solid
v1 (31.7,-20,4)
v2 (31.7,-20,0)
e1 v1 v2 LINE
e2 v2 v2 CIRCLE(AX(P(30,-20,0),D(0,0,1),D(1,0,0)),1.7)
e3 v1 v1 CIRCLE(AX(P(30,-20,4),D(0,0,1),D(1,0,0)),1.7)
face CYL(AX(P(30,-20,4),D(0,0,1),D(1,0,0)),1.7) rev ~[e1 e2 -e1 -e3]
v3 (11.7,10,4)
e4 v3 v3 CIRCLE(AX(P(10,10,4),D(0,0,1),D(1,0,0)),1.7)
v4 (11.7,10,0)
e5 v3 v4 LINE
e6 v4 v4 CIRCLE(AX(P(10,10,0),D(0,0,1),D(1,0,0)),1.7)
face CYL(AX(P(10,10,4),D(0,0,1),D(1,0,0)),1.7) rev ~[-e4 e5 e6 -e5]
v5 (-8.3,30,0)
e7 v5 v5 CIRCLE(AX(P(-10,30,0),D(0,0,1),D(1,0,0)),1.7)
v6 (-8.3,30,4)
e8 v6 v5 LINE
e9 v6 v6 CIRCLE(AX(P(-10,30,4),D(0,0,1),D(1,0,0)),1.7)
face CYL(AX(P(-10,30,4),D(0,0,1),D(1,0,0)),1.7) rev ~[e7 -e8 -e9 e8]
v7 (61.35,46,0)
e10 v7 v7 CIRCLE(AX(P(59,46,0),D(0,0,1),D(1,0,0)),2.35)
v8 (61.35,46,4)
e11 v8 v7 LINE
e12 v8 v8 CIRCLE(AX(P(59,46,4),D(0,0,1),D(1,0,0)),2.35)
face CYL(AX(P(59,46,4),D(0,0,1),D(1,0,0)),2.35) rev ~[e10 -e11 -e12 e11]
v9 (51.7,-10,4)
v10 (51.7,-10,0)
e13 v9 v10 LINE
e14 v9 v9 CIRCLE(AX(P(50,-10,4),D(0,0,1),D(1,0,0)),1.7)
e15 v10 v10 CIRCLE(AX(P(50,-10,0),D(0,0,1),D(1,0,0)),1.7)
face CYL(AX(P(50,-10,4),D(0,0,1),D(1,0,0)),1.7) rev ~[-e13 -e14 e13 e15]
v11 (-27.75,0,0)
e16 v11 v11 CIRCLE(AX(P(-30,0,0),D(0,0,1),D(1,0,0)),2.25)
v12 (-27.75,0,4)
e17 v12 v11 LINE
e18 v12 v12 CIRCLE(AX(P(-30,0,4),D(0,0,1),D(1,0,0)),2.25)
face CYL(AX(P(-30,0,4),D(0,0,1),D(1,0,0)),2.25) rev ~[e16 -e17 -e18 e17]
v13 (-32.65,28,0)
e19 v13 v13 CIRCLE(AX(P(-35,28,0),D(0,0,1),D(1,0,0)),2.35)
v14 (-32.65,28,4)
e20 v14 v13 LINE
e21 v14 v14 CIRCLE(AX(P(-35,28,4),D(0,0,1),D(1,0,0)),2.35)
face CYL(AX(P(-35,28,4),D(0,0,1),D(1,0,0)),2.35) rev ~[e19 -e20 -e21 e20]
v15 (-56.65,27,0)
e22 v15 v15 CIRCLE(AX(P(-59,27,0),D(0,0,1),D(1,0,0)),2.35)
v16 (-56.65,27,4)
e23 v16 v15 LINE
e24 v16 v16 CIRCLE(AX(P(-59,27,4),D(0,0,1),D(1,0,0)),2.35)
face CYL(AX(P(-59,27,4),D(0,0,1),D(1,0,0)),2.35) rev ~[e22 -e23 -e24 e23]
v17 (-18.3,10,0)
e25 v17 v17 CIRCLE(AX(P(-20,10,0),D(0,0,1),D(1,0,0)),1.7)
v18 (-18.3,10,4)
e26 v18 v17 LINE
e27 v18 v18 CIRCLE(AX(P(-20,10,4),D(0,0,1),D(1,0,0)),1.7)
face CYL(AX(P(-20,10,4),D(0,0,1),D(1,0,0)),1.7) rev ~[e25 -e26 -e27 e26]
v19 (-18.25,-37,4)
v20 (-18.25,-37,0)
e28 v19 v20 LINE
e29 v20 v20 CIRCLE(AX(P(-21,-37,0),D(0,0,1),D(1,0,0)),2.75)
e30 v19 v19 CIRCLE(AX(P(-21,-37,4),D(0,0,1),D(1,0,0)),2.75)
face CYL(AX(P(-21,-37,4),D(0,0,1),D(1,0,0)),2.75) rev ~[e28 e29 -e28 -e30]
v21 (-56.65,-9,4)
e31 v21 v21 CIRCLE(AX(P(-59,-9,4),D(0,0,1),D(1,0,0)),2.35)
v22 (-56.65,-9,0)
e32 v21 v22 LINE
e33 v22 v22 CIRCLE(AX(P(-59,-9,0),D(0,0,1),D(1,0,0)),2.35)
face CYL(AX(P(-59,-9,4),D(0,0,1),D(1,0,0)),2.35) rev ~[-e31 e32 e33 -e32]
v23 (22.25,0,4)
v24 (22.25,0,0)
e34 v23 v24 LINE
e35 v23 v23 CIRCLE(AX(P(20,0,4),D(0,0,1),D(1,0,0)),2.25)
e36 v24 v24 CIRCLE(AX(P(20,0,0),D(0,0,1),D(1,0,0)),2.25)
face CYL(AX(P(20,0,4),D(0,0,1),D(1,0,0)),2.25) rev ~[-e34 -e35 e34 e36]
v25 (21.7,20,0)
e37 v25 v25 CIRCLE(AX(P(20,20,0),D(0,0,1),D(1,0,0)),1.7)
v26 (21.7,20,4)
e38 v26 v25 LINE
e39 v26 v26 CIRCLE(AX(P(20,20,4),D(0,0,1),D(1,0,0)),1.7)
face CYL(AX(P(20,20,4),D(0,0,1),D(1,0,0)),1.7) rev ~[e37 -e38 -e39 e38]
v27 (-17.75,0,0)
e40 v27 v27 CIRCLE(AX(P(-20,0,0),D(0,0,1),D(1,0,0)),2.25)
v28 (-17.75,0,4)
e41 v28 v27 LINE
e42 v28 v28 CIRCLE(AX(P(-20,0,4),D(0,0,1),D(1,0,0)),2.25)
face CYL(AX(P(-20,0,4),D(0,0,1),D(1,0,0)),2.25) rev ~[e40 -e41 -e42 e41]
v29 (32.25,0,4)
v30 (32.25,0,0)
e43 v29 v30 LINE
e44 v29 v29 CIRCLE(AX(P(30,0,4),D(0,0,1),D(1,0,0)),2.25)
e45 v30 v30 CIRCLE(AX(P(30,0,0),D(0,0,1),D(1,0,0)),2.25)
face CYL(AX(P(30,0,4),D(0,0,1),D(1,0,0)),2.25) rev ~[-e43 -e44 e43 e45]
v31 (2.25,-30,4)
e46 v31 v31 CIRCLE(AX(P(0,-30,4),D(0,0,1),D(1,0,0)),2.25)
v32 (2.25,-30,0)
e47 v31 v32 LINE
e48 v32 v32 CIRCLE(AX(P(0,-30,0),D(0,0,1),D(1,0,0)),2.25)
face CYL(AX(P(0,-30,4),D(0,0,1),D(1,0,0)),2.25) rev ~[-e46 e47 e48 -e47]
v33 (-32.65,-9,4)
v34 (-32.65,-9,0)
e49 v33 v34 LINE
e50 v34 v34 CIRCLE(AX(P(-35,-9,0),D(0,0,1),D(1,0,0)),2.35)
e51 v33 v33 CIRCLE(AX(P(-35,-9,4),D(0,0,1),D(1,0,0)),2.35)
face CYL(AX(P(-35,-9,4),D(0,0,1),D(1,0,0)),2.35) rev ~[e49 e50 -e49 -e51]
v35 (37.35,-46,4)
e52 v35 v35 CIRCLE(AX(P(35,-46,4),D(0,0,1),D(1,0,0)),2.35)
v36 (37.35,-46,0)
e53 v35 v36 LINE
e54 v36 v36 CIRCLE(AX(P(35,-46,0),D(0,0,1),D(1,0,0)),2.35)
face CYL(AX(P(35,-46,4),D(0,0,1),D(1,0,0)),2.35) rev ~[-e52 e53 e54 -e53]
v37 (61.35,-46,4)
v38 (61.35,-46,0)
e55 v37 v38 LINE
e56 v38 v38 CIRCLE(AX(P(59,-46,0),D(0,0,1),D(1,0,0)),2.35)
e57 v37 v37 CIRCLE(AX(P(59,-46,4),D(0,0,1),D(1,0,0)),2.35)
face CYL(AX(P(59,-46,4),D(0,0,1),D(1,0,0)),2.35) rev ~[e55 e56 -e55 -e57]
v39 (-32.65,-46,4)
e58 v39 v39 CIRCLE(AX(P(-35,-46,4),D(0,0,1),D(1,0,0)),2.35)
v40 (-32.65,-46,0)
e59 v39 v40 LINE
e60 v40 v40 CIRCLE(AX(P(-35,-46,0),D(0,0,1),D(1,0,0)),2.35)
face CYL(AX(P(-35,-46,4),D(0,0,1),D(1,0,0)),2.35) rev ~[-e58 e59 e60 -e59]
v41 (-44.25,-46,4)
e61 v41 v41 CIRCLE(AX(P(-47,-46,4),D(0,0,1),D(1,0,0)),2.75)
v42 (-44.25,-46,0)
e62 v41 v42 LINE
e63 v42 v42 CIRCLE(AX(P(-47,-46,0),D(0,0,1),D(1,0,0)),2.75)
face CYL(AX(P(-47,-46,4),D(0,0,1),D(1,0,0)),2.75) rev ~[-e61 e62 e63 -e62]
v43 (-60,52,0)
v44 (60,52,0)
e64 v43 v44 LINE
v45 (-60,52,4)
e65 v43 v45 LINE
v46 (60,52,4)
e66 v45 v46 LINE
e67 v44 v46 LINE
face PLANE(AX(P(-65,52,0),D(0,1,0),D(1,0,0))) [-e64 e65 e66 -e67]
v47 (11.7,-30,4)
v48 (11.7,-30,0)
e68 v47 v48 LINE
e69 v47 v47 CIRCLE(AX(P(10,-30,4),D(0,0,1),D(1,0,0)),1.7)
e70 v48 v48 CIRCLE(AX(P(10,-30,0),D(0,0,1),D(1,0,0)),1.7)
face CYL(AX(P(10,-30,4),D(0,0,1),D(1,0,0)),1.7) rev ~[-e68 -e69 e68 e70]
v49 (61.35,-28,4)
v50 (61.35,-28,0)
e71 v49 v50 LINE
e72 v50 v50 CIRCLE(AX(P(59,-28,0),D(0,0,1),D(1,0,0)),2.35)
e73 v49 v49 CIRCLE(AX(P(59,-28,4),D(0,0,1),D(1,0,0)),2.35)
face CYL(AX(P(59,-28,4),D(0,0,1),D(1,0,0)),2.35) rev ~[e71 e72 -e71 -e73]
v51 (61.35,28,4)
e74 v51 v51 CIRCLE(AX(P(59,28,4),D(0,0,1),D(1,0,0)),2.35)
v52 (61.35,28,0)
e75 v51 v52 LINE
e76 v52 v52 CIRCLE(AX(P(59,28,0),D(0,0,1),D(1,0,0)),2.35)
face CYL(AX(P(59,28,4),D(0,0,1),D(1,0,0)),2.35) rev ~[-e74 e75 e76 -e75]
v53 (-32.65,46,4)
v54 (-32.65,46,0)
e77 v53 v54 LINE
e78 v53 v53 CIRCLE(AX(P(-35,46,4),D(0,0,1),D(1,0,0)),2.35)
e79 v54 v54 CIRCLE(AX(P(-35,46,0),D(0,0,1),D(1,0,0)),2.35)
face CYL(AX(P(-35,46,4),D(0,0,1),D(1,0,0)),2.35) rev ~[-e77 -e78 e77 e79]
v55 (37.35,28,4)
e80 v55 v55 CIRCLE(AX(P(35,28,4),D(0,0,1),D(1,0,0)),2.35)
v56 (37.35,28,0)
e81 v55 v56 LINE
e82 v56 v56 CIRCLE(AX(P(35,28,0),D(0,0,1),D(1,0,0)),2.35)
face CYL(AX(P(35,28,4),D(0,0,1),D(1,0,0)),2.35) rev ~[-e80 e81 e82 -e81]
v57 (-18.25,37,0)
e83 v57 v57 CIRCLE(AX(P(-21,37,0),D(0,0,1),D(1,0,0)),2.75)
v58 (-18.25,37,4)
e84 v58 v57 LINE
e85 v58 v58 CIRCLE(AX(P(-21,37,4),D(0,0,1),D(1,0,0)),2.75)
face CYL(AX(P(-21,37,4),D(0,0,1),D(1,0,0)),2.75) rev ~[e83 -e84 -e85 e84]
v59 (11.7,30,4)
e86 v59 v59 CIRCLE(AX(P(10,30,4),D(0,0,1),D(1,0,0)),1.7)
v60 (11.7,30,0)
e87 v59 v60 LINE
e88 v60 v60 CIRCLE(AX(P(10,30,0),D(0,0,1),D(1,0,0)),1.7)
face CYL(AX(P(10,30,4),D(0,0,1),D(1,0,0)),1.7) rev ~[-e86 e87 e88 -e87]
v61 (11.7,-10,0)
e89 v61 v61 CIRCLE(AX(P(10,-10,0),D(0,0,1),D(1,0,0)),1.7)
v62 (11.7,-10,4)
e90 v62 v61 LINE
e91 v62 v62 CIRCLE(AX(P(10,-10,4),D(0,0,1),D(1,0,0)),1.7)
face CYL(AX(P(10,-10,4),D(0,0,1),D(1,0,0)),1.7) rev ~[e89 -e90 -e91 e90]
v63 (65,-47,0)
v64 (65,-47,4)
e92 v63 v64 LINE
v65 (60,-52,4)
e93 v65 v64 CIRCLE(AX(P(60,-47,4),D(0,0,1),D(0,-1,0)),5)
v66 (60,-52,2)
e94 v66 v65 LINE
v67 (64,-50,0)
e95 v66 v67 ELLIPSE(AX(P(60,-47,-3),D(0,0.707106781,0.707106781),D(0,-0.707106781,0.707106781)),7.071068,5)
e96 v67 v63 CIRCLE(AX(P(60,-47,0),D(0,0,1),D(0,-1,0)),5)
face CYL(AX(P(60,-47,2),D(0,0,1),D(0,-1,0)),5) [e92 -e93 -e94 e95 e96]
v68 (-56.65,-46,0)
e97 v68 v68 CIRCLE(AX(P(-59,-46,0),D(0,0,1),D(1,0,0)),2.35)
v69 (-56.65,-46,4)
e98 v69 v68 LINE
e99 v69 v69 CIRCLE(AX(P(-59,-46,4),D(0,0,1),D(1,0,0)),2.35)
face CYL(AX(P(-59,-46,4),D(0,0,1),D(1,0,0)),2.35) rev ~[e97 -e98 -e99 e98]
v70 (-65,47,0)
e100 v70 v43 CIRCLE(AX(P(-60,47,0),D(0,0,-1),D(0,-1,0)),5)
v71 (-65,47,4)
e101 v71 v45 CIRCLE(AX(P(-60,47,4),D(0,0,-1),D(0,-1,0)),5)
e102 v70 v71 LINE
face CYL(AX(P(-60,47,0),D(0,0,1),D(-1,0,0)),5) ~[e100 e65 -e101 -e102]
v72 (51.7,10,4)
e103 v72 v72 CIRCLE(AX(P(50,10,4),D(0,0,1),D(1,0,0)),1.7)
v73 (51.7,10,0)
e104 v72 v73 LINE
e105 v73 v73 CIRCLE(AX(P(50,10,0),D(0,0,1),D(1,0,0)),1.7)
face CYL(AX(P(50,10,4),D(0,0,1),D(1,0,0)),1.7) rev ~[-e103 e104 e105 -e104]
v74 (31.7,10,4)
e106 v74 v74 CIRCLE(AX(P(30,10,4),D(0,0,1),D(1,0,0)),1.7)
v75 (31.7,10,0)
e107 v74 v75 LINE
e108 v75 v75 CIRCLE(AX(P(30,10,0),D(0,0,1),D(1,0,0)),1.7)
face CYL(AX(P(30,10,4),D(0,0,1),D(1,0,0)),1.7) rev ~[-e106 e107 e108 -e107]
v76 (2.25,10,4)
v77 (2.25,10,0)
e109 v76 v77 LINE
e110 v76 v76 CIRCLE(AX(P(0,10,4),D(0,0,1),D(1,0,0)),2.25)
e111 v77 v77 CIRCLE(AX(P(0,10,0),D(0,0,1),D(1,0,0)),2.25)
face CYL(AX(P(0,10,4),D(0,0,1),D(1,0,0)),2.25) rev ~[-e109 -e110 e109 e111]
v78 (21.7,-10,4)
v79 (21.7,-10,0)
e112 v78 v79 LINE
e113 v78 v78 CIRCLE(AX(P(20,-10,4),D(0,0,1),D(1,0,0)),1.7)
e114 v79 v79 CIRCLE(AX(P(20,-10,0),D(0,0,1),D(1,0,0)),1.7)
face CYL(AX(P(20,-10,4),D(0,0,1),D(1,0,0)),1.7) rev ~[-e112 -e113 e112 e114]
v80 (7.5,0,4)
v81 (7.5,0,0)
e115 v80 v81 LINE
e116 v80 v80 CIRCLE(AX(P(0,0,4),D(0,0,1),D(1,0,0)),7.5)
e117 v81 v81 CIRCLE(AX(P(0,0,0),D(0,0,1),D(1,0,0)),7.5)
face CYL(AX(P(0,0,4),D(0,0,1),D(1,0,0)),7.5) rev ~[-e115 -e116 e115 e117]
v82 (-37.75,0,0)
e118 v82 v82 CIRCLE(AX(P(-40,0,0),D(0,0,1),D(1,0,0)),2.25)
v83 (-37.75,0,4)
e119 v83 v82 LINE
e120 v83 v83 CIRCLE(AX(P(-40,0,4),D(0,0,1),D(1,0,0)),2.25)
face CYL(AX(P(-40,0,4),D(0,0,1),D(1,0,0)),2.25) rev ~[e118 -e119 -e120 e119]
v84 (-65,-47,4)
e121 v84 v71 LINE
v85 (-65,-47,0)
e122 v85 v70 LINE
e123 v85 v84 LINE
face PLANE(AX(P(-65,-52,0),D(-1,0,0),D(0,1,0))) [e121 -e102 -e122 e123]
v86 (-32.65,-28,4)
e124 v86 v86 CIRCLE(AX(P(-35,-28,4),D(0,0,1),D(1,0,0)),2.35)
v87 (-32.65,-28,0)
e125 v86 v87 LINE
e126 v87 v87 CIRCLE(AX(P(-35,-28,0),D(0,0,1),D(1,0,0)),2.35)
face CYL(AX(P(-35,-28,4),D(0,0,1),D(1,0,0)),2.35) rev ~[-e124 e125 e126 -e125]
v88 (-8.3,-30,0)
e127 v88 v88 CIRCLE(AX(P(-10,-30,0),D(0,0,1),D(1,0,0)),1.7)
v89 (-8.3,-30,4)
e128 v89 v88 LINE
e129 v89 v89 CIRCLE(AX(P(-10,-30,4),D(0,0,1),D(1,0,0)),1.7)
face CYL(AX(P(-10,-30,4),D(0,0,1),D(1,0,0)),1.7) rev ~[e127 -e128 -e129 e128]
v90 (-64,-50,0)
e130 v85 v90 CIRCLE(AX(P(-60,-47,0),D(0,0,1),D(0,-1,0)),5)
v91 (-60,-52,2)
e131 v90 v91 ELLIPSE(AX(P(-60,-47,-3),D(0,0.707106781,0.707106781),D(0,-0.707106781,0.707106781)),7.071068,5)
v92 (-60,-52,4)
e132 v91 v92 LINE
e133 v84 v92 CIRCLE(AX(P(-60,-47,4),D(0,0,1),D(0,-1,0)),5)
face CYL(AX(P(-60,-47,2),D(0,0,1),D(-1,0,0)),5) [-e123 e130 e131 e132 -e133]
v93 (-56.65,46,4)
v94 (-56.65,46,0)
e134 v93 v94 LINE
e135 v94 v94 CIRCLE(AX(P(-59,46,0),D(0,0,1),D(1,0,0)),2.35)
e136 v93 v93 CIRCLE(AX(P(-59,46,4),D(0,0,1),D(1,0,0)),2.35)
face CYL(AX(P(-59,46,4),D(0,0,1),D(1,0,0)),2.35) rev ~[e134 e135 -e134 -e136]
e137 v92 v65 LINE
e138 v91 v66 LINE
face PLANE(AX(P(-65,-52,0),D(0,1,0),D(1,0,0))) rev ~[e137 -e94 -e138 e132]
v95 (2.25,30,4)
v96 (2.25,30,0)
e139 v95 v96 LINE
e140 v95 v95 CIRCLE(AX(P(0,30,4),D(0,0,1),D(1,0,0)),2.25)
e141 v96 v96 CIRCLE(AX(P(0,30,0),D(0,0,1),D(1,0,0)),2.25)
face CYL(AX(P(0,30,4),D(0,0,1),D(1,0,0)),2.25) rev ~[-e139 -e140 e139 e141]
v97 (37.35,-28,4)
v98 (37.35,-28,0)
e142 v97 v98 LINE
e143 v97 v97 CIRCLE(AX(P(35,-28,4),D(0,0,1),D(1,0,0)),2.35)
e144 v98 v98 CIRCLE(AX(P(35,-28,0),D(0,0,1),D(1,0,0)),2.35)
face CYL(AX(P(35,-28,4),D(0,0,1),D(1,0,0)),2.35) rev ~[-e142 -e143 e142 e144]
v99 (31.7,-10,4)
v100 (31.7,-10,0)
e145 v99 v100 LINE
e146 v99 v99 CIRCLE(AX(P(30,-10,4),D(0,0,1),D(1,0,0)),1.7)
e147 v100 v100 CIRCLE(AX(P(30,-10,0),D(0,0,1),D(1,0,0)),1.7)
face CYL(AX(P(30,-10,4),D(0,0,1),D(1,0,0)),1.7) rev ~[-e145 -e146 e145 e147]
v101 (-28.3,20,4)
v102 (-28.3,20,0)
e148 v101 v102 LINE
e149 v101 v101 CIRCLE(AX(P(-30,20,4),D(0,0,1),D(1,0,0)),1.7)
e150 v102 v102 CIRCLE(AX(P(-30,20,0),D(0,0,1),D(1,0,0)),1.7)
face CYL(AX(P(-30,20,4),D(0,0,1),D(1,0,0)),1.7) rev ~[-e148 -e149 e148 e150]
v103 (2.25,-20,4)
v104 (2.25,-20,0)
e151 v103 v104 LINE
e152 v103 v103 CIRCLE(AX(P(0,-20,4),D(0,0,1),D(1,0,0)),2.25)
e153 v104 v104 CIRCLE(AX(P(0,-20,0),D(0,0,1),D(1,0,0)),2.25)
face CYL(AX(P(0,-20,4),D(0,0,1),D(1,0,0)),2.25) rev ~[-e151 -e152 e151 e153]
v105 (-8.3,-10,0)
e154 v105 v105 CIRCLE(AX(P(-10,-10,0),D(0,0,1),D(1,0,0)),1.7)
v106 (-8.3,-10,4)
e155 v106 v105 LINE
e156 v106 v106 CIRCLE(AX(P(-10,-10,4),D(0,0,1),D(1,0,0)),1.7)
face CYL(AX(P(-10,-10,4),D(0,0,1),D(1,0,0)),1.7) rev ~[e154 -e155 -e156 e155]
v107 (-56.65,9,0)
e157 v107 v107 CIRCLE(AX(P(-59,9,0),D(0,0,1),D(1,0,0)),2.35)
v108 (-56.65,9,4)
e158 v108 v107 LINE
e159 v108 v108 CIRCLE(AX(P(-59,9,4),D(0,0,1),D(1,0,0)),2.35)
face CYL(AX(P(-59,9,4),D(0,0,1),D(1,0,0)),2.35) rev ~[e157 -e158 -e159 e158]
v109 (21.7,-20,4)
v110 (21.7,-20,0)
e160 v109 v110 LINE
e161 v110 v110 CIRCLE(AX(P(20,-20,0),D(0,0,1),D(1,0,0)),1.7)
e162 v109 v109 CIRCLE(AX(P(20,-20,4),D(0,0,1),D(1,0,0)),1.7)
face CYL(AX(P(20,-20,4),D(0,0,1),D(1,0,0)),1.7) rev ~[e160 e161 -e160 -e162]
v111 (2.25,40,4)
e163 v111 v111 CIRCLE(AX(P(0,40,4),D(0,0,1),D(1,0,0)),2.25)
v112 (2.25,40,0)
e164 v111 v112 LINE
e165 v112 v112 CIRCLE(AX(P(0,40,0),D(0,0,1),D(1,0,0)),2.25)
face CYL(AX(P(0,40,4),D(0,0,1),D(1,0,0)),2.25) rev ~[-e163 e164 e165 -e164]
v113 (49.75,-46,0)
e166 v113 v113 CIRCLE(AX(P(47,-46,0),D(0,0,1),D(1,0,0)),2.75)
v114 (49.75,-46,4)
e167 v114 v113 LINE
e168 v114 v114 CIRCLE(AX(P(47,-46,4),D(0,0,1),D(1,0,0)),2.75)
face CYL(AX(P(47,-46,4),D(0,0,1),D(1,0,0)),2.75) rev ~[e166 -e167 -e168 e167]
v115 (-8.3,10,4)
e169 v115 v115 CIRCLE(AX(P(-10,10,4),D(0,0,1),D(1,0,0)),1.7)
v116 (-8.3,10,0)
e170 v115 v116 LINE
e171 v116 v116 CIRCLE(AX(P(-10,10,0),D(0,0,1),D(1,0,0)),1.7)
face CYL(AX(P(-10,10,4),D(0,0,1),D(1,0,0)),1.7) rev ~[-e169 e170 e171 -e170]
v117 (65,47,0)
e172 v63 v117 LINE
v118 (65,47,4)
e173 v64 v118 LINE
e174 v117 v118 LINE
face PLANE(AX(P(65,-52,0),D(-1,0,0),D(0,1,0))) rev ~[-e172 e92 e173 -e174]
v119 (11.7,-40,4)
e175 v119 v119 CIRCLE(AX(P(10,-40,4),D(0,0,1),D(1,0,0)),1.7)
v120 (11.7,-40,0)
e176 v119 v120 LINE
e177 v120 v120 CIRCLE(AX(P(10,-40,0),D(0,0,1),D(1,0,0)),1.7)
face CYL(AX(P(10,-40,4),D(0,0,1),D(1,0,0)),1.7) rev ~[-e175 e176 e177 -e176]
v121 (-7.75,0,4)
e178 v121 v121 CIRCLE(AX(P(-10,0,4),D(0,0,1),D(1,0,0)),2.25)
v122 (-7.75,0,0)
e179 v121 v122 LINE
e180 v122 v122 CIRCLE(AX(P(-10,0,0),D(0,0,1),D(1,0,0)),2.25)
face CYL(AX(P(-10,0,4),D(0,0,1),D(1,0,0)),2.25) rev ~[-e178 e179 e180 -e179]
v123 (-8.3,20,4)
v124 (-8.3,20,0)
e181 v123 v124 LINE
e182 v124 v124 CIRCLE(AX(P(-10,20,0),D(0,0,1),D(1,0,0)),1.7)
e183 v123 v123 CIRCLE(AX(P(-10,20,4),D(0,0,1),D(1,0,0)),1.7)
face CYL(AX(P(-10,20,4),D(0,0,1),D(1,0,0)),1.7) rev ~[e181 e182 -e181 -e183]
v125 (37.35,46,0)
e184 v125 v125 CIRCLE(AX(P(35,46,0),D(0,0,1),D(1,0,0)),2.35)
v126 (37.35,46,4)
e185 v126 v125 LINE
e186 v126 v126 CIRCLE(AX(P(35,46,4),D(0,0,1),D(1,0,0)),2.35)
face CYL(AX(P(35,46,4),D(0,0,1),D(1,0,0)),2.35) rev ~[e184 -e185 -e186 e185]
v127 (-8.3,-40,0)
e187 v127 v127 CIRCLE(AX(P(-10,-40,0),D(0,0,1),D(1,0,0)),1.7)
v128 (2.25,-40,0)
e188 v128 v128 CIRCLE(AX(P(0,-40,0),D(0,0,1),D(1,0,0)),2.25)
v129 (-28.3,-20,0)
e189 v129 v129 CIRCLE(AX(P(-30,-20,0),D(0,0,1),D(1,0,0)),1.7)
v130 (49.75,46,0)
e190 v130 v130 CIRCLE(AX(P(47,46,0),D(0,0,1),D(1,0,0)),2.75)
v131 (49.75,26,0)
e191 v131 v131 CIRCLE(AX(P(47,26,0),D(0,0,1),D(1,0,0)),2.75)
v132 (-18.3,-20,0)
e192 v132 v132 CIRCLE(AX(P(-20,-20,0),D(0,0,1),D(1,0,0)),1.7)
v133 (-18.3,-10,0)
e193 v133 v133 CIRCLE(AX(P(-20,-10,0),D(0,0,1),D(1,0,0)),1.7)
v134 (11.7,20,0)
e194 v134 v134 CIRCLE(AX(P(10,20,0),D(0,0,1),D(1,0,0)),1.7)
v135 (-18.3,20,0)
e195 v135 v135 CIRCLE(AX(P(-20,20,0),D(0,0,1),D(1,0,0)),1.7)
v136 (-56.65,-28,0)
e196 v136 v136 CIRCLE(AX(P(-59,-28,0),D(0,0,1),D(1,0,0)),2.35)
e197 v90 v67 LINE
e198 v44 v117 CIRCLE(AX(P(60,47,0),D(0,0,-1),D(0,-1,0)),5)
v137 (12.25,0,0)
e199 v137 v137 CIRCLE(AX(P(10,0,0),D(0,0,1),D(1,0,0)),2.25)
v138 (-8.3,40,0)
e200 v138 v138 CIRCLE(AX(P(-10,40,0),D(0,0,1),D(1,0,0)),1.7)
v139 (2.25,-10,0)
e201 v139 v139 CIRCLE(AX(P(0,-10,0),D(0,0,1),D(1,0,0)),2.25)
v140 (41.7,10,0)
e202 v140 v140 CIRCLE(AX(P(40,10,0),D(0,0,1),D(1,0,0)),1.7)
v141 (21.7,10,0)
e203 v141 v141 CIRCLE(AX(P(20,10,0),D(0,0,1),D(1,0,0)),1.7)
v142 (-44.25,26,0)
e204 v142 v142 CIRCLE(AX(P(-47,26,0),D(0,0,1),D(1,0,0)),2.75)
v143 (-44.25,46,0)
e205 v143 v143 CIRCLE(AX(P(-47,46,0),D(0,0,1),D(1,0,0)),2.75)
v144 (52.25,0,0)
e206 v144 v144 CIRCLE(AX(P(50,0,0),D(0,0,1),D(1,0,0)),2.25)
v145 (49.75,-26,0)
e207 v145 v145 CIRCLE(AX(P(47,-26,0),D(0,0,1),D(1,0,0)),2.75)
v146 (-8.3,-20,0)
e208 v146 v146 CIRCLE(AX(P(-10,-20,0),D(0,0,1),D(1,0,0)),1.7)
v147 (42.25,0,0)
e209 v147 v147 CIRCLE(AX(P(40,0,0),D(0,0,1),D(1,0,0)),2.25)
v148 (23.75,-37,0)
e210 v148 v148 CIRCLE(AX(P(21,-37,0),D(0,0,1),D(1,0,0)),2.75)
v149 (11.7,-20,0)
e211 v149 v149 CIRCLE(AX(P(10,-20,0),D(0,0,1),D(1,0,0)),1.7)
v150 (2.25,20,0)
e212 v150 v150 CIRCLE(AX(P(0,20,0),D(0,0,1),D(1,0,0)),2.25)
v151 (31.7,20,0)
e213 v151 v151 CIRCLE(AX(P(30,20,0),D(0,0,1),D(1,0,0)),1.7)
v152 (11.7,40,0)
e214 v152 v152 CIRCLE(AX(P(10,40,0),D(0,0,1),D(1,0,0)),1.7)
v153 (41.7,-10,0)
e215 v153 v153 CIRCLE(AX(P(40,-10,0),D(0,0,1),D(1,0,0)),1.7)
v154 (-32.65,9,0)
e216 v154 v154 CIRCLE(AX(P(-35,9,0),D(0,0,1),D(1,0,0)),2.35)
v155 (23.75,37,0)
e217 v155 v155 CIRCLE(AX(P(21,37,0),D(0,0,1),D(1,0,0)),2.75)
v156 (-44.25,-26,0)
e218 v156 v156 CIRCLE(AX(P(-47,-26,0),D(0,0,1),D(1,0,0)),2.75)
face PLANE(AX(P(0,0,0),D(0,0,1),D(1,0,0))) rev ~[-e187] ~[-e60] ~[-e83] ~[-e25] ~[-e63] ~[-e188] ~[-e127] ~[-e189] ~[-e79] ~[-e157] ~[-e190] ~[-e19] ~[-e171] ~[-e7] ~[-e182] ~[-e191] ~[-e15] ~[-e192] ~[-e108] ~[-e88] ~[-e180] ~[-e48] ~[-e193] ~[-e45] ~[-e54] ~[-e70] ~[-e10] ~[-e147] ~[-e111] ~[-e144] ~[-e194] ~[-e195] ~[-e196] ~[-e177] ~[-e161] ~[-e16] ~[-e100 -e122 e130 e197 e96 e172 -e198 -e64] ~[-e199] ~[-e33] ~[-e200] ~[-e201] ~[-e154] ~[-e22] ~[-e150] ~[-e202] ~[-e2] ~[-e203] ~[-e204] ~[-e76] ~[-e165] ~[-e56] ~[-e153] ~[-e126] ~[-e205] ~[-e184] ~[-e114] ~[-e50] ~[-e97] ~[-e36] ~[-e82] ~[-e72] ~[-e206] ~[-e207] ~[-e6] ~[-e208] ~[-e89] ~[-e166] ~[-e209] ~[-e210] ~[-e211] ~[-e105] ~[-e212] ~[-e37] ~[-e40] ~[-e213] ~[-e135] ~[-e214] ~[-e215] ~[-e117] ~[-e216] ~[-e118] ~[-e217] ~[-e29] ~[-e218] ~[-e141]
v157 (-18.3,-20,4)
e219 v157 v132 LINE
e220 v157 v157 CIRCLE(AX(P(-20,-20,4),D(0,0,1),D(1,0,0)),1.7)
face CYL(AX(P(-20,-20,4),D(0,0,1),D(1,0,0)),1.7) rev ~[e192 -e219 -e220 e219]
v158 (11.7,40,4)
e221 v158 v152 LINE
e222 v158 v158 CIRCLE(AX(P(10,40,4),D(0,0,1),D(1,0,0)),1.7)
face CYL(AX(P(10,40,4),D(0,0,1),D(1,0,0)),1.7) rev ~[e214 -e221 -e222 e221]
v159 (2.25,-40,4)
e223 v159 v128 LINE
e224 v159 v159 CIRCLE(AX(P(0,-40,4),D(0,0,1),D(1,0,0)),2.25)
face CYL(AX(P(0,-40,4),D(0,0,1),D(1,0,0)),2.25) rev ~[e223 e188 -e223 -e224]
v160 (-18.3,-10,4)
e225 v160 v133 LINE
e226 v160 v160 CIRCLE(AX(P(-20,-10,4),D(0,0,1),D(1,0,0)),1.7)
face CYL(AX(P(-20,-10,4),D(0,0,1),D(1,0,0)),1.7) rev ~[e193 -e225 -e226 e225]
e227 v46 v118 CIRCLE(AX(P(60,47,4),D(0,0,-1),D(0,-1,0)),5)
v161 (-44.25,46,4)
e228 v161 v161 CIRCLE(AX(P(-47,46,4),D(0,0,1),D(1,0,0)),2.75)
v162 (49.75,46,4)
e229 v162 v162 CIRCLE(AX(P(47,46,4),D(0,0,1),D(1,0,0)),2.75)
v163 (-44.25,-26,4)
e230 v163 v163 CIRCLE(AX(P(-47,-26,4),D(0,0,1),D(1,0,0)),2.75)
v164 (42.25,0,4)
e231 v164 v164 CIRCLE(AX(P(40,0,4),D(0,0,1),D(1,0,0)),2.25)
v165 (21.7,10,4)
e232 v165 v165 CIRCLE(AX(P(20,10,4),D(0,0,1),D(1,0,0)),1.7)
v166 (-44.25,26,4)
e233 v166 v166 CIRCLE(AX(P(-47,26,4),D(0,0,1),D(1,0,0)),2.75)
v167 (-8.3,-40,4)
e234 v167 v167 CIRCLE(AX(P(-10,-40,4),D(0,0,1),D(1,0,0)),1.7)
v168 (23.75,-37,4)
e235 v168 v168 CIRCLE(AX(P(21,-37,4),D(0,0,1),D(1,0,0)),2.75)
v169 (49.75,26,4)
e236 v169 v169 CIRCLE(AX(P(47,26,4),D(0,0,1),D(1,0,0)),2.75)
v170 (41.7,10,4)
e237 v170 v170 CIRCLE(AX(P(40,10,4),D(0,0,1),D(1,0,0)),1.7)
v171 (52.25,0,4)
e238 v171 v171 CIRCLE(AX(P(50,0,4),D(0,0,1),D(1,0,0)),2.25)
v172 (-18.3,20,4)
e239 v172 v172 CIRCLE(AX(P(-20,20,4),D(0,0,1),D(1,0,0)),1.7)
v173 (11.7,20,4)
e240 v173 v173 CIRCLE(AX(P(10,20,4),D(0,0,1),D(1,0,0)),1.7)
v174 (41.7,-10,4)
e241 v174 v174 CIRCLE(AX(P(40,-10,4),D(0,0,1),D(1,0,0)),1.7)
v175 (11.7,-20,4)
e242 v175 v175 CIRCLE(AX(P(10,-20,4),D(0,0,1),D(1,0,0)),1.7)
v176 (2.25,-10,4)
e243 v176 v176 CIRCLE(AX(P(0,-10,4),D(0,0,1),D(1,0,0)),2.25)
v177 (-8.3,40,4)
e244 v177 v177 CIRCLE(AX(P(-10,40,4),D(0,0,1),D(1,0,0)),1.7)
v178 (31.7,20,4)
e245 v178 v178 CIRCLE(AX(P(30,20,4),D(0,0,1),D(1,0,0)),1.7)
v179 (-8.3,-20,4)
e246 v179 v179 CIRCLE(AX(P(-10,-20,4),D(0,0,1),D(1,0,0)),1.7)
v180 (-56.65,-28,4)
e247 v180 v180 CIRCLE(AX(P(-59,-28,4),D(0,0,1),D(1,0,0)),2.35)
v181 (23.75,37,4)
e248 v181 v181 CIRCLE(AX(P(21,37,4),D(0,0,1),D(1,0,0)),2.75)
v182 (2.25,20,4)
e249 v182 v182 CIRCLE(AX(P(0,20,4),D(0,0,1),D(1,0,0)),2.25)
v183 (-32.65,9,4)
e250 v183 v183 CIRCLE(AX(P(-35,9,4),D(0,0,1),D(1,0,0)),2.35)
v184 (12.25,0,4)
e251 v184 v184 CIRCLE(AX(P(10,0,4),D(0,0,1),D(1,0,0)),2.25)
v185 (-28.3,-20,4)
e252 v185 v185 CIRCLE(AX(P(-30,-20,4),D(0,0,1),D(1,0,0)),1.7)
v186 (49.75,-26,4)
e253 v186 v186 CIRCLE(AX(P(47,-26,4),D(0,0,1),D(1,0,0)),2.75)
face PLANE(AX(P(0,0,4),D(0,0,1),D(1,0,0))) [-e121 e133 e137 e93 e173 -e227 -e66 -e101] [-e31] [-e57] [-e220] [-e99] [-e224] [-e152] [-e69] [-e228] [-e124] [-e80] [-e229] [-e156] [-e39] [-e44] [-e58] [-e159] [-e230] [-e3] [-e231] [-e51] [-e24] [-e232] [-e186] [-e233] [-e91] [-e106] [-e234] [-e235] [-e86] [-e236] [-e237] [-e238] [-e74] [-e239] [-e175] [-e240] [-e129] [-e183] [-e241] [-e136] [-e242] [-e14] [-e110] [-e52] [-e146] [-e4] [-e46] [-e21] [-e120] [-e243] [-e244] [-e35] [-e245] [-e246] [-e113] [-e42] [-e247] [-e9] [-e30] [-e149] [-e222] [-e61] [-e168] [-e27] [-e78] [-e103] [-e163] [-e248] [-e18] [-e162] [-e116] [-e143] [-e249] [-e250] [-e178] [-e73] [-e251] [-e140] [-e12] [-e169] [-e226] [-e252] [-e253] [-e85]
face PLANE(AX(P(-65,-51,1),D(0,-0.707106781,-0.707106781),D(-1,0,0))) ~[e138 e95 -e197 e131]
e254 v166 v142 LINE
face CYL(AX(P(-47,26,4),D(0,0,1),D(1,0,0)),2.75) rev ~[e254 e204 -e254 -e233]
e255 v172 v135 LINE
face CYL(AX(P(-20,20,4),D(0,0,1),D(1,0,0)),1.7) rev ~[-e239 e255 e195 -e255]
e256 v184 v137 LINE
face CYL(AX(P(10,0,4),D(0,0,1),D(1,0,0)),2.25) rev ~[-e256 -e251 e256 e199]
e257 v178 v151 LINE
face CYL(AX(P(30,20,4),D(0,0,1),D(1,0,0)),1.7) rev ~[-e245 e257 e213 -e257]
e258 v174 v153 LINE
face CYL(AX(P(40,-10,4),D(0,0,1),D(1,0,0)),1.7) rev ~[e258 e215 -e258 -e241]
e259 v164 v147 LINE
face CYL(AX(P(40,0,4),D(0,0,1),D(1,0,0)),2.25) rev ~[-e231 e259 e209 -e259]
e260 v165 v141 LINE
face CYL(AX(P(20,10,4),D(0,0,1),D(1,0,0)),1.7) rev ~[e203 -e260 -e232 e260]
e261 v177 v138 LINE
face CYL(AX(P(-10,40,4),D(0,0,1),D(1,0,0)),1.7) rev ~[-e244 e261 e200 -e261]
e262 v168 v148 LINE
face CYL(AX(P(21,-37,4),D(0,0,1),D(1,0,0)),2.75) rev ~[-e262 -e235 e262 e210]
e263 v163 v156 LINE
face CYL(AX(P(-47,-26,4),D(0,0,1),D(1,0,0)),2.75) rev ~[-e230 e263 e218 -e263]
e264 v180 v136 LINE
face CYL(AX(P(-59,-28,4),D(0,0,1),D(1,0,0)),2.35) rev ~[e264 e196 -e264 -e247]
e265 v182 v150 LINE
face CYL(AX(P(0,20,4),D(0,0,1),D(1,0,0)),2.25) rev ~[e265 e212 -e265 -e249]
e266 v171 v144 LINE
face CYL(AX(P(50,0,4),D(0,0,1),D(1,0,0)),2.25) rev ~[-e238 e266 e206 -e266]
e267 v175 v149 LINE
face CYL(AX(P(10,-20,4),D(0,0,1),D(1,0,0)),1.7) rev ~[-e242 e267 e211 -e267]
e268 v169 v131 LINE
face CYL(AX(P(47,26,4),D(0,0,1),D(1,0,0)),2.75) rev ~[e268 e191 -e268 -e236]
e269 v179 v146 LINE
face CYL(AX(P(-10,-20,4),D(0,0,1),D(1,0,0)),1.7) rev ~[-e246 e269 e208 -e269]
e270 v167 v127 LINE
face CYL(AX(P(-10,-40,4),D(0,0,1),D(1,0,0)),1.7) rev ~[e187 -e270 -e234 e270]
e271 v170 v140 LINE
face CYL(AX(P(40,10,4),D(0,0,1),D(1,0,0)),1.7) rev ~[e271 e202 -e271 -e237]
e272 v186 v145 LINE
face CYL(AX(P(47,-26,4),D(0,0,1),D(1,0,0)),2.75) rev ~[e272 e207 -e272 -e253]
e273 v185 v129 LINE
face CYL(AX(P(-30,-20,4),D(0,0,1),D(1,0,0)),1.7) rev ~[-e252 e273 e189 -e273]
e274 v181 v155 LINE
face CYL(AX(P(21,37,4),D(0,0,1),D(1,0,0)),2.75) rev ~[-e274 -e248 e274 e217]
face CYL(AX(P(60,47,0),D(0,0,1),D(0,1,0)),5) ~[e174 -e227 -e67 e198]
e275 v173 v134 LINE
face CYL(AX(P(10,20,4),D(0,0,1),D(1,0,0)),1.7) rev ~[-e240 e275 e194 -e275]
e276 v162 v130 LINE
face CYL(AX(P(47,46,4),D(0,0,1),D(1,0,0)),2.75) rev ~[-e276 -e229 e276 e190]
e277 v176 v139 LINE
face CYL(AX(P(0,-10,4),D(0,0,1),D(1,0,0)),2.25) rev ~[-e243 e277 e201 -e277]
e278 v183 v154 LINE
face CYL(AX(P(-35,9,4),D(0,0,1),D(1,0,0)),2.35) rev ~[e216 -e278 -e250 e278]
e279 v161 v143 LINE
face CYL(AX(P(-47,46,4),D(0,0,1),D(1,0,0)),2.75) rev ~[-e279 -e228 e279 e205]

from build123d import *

# Parameters (mm, degrees)
SKETCH_W        = 130
SKETCH_H        = 104
PAD_DEPTH       = 4
SKETCH001_R     = 2.35
SKETCH001_R_2   = 2.75
POCKET_DEPTH    = 4.001
SKETCH002_R     = 1.7
SKETCH002_R_2   = 2.25
SKETCH002_R_3   = 7.5
POCKET001_DEPTH = 5
CHAMFER_SIZE    = 2
FILLET_R        = 5


with BuildPart() as part:
    # Sketch → Pad (new body)
    with BuildSketch(Plane.XY):
        Rectangle(SKETCH_W, SKETCH_H)
    extrude(amount=PAD_DEPTH)

    # Sketch001 → Pocket (cut, through all)
    with BuildSketch(Plane.XY.offset(4)):
        with Locations((-35, 46)):
            Circle(SKETCH001_R)
        with Locations((-59, 27)):
            Circle(SKETCH001_R)
        with Locations((-59, 46)):
            Circle(SKETCH001_R)
        with Locations((35, 46)):
            Circle(SKETCH001_R)
        with Locations((59, 28)):
            Circle(SKETCH001_R)
        with Locations((59, 46)):
            Circle(SKETCH001_R)
        with Locations((59, -28)):
            Circle(SKETCH001_R)
        with Locations((59, -46)):
            Circle(SKETCH001_R)
        with Locations((35, -46)):
            Circle(SKETCH001_R)
        with Locations((-59, -28)):
            Circle(SKETCH001_R)
        with Locations((-35, -46)):
            Circle(SKETCH001_R)
        with Locations((-59, -46)):
            Circle(SKETCH001_R)
        with Locations((-47, 46)):
            Circle(SKETCH001_R_2)
        with Locations((-47, 26)):
            Circle(SKETCH001_R_2)
        with Locations((47, 46)):
            Circle(SKETCH001_R_2)
        with Locations((47, 26)):
            Circle(SKETCH001_R_2)
        with Locations((-21, -37)):
            Circle(SKETCH001_R_2)
        with Locations((21, -37)):
            Circle(SKETCH001_R_2)
        with Locations((-21, 37)):
            Circle(SKETCH001_R_2)
        with Locations((21, 37)):
            Circle(SKETCH001_R_2)
        with Locations((47, -46)):
            Circle(SKETCH001_R_2)
        with Locations((47, -26)):
            Circle(SKETCH001_R_2)
        with Locations((-47, -26)):
            Circle(SKETCH001_R_2)
        with Locations((-47, -46)):
            Circle(SKETCH001_R_2)
        with Locations((-35, 28)):
            Circle(SKETCH001_R)
        with Locations((35, 28)):
            Circle(SKETCH001_R)
        with Locations((35, -28)):
            Circle(SKETCH001_R)
        with Locations((-35, -28)):
            Circle(SKETCH001_R)
        with Locations((-59, 9)):
            Circle(SKETCH001_R)
        with Locations((-59, -9)):
            Circle(SKETCH001_R)
        with Locations((-35, 9)):
            Circle(SKETCH001_R)
        with Locations((-35, -9)):
            Circle(SKETCH001_R)
    extrude(amount=-POCKET_DEPTH, mode=Mode.SUBTRACT)

    # Sketch002 → Pocket001 (cut)
    with BuildSketch(Plane.XY.offset(4)):
        with Locations((-10, 10)):
            Circle(SKETCH002_R)
        with Locations((-20, 10)):
            Circle(SKETCH002_R)
        with Locations((-10, 0)):
            Circle(SKETCH002_R_2)
        with Locations((-20, 0)):
            Circle(SKETCH002_R_2)
        with Locations((-10, -10)):
            Circle(SKETCH002_R)
        with Locations((-20, -10)):
            Circle(SKETCH002_R)
        with Locations((-30, 0)):
            Circle(SKETCH002_R_2)
        with Locations((-40, 0)):
            Circle(SKETCH002_R_2)
        with Locations((10, 10)):
            Circle(SKETCH002_R)
        with Locations((10, -10)):
            Circle(SKETCH002_R)
        with Locations((20, -10)):
            Circle(SKETCH002_R)
        with Locations((20, 10)):
            Circle(SKETCH002_R)
        with Locations((30, 10)):
            Circle(SKETCH002_R)
        with Locations((40, 10)):
            Circle(SKETCH002_R)
        with Locations((30, -10)):
            Circle(SKETCH002_R)
        with Locations((40, -10)):
            Circle(SKETCH002_R)
        with Locations((-10, 20)):
            Circle(SKETCH002_R)
        with Locations((-20, 20)):
            Circle(SKETCH002_R)
        with Locations((10, 20)):
            Circle(SKETCH002_R)
        with Locations((20, 20)):
            Circle(SKETCH002_R)
        with Locations((20, -20)):
            Circle(SKETCH002_R)
        with Locations((10, -20)):
            Circle(SKETCH002_R)
        with Locations((-10, -20)):
            Circle(SKETCH002_R)
        with Locations((-20, -20)):
            Circle(SKETCH002_R)
        with Locations((-10, 30)):
            Circle(SKETCH002_R)
        with Locations((-10, 40)):
            Circle(SKETCH002_R)
        with Locations((10, 40)):
            Circle(SKETCH002_R)
        with Locations((10, 30)):
            Circle(SKETCH002_R)
        with Locations((10, -30)):
            Circle(SKETCH002_R)
        with Locations((-10, -30)):
            Circle(SKETCH002_R)
        with Locations((-10, -40)):
            Circle(SKETCH002_R)
        with Locations((10, -40)):
            Circle(SKETCH002_R)
        with Locations((0, 40)):
            Circle(SKETCH002_R_2)
        with Locations((0, 30)):
            Circle(SKETCH002_R_2)
        with Locations((0, 20)):
            Circle(SKETCH002_R_2)
        with Locations((0, 10)):
            Circle(SKETCH002_R_2)
        with Locations((0, -10)):
            Circle(SKETCH002_R_2)
        with Locations((0, -20)):
            Circle(SKETCH002_R_2)
        with Locations((0, -30)):
            Circle(SKETCH002_R_2)
        with Locations((0, -40)):
            Circle(SKETCH002_R_2)
        with Locations((10, 0)):
            Circle(SKETCH002_R_2)
        with Locations((20, 0)):
            Circle(SKETCH002_R_2)
        with Locations((30, 0)):
            Circle(SKETCH002_R_2)
        with Locations((40, 0)):
            Circle(SKETCH002_R_2)
        with Locations((50, 0)):
            Circle(SKETCH002_R_2)
        with Locations((50, 10)):
            Circle(SKETCH002_R)
        with Locations((50, -10)):
            Circle(SKETCH002_R)
        with Locations((-30, 20)):
            Circle(SKETCH002_R)
        with Locations((-30, -20)):
            Circle(SKETCH002_R)
        with Locations((30, 20)):
            Circle(SKETCH002_R)
        with Locations((30, -20)):
            Circle(SKETCH002_R)
        Circle(SKETCH002_R_3)
    extrude(amount=-POCKET001_DEPTH, mode=Mode.SUBTRACT)

    # Chamfer
    chamfer_edges = [part.edges().sort_by_distance(p)[0] for p in [
        (0, -52, 0),
    ]]
    chamfer(chamfer_edges, length=CHAMFER_SIZE)

    # Fillet
    fillet_edges = [part.edges().sort_by_distance(p)[0] for p in [
        (-65, 52, 2),
        (-65, -52, 3),
        (65, -52, 3),
        (65, 52, 2),
    ]]
    fillet(fillet_edges, radius=FILLET_R)


solid = part.part
